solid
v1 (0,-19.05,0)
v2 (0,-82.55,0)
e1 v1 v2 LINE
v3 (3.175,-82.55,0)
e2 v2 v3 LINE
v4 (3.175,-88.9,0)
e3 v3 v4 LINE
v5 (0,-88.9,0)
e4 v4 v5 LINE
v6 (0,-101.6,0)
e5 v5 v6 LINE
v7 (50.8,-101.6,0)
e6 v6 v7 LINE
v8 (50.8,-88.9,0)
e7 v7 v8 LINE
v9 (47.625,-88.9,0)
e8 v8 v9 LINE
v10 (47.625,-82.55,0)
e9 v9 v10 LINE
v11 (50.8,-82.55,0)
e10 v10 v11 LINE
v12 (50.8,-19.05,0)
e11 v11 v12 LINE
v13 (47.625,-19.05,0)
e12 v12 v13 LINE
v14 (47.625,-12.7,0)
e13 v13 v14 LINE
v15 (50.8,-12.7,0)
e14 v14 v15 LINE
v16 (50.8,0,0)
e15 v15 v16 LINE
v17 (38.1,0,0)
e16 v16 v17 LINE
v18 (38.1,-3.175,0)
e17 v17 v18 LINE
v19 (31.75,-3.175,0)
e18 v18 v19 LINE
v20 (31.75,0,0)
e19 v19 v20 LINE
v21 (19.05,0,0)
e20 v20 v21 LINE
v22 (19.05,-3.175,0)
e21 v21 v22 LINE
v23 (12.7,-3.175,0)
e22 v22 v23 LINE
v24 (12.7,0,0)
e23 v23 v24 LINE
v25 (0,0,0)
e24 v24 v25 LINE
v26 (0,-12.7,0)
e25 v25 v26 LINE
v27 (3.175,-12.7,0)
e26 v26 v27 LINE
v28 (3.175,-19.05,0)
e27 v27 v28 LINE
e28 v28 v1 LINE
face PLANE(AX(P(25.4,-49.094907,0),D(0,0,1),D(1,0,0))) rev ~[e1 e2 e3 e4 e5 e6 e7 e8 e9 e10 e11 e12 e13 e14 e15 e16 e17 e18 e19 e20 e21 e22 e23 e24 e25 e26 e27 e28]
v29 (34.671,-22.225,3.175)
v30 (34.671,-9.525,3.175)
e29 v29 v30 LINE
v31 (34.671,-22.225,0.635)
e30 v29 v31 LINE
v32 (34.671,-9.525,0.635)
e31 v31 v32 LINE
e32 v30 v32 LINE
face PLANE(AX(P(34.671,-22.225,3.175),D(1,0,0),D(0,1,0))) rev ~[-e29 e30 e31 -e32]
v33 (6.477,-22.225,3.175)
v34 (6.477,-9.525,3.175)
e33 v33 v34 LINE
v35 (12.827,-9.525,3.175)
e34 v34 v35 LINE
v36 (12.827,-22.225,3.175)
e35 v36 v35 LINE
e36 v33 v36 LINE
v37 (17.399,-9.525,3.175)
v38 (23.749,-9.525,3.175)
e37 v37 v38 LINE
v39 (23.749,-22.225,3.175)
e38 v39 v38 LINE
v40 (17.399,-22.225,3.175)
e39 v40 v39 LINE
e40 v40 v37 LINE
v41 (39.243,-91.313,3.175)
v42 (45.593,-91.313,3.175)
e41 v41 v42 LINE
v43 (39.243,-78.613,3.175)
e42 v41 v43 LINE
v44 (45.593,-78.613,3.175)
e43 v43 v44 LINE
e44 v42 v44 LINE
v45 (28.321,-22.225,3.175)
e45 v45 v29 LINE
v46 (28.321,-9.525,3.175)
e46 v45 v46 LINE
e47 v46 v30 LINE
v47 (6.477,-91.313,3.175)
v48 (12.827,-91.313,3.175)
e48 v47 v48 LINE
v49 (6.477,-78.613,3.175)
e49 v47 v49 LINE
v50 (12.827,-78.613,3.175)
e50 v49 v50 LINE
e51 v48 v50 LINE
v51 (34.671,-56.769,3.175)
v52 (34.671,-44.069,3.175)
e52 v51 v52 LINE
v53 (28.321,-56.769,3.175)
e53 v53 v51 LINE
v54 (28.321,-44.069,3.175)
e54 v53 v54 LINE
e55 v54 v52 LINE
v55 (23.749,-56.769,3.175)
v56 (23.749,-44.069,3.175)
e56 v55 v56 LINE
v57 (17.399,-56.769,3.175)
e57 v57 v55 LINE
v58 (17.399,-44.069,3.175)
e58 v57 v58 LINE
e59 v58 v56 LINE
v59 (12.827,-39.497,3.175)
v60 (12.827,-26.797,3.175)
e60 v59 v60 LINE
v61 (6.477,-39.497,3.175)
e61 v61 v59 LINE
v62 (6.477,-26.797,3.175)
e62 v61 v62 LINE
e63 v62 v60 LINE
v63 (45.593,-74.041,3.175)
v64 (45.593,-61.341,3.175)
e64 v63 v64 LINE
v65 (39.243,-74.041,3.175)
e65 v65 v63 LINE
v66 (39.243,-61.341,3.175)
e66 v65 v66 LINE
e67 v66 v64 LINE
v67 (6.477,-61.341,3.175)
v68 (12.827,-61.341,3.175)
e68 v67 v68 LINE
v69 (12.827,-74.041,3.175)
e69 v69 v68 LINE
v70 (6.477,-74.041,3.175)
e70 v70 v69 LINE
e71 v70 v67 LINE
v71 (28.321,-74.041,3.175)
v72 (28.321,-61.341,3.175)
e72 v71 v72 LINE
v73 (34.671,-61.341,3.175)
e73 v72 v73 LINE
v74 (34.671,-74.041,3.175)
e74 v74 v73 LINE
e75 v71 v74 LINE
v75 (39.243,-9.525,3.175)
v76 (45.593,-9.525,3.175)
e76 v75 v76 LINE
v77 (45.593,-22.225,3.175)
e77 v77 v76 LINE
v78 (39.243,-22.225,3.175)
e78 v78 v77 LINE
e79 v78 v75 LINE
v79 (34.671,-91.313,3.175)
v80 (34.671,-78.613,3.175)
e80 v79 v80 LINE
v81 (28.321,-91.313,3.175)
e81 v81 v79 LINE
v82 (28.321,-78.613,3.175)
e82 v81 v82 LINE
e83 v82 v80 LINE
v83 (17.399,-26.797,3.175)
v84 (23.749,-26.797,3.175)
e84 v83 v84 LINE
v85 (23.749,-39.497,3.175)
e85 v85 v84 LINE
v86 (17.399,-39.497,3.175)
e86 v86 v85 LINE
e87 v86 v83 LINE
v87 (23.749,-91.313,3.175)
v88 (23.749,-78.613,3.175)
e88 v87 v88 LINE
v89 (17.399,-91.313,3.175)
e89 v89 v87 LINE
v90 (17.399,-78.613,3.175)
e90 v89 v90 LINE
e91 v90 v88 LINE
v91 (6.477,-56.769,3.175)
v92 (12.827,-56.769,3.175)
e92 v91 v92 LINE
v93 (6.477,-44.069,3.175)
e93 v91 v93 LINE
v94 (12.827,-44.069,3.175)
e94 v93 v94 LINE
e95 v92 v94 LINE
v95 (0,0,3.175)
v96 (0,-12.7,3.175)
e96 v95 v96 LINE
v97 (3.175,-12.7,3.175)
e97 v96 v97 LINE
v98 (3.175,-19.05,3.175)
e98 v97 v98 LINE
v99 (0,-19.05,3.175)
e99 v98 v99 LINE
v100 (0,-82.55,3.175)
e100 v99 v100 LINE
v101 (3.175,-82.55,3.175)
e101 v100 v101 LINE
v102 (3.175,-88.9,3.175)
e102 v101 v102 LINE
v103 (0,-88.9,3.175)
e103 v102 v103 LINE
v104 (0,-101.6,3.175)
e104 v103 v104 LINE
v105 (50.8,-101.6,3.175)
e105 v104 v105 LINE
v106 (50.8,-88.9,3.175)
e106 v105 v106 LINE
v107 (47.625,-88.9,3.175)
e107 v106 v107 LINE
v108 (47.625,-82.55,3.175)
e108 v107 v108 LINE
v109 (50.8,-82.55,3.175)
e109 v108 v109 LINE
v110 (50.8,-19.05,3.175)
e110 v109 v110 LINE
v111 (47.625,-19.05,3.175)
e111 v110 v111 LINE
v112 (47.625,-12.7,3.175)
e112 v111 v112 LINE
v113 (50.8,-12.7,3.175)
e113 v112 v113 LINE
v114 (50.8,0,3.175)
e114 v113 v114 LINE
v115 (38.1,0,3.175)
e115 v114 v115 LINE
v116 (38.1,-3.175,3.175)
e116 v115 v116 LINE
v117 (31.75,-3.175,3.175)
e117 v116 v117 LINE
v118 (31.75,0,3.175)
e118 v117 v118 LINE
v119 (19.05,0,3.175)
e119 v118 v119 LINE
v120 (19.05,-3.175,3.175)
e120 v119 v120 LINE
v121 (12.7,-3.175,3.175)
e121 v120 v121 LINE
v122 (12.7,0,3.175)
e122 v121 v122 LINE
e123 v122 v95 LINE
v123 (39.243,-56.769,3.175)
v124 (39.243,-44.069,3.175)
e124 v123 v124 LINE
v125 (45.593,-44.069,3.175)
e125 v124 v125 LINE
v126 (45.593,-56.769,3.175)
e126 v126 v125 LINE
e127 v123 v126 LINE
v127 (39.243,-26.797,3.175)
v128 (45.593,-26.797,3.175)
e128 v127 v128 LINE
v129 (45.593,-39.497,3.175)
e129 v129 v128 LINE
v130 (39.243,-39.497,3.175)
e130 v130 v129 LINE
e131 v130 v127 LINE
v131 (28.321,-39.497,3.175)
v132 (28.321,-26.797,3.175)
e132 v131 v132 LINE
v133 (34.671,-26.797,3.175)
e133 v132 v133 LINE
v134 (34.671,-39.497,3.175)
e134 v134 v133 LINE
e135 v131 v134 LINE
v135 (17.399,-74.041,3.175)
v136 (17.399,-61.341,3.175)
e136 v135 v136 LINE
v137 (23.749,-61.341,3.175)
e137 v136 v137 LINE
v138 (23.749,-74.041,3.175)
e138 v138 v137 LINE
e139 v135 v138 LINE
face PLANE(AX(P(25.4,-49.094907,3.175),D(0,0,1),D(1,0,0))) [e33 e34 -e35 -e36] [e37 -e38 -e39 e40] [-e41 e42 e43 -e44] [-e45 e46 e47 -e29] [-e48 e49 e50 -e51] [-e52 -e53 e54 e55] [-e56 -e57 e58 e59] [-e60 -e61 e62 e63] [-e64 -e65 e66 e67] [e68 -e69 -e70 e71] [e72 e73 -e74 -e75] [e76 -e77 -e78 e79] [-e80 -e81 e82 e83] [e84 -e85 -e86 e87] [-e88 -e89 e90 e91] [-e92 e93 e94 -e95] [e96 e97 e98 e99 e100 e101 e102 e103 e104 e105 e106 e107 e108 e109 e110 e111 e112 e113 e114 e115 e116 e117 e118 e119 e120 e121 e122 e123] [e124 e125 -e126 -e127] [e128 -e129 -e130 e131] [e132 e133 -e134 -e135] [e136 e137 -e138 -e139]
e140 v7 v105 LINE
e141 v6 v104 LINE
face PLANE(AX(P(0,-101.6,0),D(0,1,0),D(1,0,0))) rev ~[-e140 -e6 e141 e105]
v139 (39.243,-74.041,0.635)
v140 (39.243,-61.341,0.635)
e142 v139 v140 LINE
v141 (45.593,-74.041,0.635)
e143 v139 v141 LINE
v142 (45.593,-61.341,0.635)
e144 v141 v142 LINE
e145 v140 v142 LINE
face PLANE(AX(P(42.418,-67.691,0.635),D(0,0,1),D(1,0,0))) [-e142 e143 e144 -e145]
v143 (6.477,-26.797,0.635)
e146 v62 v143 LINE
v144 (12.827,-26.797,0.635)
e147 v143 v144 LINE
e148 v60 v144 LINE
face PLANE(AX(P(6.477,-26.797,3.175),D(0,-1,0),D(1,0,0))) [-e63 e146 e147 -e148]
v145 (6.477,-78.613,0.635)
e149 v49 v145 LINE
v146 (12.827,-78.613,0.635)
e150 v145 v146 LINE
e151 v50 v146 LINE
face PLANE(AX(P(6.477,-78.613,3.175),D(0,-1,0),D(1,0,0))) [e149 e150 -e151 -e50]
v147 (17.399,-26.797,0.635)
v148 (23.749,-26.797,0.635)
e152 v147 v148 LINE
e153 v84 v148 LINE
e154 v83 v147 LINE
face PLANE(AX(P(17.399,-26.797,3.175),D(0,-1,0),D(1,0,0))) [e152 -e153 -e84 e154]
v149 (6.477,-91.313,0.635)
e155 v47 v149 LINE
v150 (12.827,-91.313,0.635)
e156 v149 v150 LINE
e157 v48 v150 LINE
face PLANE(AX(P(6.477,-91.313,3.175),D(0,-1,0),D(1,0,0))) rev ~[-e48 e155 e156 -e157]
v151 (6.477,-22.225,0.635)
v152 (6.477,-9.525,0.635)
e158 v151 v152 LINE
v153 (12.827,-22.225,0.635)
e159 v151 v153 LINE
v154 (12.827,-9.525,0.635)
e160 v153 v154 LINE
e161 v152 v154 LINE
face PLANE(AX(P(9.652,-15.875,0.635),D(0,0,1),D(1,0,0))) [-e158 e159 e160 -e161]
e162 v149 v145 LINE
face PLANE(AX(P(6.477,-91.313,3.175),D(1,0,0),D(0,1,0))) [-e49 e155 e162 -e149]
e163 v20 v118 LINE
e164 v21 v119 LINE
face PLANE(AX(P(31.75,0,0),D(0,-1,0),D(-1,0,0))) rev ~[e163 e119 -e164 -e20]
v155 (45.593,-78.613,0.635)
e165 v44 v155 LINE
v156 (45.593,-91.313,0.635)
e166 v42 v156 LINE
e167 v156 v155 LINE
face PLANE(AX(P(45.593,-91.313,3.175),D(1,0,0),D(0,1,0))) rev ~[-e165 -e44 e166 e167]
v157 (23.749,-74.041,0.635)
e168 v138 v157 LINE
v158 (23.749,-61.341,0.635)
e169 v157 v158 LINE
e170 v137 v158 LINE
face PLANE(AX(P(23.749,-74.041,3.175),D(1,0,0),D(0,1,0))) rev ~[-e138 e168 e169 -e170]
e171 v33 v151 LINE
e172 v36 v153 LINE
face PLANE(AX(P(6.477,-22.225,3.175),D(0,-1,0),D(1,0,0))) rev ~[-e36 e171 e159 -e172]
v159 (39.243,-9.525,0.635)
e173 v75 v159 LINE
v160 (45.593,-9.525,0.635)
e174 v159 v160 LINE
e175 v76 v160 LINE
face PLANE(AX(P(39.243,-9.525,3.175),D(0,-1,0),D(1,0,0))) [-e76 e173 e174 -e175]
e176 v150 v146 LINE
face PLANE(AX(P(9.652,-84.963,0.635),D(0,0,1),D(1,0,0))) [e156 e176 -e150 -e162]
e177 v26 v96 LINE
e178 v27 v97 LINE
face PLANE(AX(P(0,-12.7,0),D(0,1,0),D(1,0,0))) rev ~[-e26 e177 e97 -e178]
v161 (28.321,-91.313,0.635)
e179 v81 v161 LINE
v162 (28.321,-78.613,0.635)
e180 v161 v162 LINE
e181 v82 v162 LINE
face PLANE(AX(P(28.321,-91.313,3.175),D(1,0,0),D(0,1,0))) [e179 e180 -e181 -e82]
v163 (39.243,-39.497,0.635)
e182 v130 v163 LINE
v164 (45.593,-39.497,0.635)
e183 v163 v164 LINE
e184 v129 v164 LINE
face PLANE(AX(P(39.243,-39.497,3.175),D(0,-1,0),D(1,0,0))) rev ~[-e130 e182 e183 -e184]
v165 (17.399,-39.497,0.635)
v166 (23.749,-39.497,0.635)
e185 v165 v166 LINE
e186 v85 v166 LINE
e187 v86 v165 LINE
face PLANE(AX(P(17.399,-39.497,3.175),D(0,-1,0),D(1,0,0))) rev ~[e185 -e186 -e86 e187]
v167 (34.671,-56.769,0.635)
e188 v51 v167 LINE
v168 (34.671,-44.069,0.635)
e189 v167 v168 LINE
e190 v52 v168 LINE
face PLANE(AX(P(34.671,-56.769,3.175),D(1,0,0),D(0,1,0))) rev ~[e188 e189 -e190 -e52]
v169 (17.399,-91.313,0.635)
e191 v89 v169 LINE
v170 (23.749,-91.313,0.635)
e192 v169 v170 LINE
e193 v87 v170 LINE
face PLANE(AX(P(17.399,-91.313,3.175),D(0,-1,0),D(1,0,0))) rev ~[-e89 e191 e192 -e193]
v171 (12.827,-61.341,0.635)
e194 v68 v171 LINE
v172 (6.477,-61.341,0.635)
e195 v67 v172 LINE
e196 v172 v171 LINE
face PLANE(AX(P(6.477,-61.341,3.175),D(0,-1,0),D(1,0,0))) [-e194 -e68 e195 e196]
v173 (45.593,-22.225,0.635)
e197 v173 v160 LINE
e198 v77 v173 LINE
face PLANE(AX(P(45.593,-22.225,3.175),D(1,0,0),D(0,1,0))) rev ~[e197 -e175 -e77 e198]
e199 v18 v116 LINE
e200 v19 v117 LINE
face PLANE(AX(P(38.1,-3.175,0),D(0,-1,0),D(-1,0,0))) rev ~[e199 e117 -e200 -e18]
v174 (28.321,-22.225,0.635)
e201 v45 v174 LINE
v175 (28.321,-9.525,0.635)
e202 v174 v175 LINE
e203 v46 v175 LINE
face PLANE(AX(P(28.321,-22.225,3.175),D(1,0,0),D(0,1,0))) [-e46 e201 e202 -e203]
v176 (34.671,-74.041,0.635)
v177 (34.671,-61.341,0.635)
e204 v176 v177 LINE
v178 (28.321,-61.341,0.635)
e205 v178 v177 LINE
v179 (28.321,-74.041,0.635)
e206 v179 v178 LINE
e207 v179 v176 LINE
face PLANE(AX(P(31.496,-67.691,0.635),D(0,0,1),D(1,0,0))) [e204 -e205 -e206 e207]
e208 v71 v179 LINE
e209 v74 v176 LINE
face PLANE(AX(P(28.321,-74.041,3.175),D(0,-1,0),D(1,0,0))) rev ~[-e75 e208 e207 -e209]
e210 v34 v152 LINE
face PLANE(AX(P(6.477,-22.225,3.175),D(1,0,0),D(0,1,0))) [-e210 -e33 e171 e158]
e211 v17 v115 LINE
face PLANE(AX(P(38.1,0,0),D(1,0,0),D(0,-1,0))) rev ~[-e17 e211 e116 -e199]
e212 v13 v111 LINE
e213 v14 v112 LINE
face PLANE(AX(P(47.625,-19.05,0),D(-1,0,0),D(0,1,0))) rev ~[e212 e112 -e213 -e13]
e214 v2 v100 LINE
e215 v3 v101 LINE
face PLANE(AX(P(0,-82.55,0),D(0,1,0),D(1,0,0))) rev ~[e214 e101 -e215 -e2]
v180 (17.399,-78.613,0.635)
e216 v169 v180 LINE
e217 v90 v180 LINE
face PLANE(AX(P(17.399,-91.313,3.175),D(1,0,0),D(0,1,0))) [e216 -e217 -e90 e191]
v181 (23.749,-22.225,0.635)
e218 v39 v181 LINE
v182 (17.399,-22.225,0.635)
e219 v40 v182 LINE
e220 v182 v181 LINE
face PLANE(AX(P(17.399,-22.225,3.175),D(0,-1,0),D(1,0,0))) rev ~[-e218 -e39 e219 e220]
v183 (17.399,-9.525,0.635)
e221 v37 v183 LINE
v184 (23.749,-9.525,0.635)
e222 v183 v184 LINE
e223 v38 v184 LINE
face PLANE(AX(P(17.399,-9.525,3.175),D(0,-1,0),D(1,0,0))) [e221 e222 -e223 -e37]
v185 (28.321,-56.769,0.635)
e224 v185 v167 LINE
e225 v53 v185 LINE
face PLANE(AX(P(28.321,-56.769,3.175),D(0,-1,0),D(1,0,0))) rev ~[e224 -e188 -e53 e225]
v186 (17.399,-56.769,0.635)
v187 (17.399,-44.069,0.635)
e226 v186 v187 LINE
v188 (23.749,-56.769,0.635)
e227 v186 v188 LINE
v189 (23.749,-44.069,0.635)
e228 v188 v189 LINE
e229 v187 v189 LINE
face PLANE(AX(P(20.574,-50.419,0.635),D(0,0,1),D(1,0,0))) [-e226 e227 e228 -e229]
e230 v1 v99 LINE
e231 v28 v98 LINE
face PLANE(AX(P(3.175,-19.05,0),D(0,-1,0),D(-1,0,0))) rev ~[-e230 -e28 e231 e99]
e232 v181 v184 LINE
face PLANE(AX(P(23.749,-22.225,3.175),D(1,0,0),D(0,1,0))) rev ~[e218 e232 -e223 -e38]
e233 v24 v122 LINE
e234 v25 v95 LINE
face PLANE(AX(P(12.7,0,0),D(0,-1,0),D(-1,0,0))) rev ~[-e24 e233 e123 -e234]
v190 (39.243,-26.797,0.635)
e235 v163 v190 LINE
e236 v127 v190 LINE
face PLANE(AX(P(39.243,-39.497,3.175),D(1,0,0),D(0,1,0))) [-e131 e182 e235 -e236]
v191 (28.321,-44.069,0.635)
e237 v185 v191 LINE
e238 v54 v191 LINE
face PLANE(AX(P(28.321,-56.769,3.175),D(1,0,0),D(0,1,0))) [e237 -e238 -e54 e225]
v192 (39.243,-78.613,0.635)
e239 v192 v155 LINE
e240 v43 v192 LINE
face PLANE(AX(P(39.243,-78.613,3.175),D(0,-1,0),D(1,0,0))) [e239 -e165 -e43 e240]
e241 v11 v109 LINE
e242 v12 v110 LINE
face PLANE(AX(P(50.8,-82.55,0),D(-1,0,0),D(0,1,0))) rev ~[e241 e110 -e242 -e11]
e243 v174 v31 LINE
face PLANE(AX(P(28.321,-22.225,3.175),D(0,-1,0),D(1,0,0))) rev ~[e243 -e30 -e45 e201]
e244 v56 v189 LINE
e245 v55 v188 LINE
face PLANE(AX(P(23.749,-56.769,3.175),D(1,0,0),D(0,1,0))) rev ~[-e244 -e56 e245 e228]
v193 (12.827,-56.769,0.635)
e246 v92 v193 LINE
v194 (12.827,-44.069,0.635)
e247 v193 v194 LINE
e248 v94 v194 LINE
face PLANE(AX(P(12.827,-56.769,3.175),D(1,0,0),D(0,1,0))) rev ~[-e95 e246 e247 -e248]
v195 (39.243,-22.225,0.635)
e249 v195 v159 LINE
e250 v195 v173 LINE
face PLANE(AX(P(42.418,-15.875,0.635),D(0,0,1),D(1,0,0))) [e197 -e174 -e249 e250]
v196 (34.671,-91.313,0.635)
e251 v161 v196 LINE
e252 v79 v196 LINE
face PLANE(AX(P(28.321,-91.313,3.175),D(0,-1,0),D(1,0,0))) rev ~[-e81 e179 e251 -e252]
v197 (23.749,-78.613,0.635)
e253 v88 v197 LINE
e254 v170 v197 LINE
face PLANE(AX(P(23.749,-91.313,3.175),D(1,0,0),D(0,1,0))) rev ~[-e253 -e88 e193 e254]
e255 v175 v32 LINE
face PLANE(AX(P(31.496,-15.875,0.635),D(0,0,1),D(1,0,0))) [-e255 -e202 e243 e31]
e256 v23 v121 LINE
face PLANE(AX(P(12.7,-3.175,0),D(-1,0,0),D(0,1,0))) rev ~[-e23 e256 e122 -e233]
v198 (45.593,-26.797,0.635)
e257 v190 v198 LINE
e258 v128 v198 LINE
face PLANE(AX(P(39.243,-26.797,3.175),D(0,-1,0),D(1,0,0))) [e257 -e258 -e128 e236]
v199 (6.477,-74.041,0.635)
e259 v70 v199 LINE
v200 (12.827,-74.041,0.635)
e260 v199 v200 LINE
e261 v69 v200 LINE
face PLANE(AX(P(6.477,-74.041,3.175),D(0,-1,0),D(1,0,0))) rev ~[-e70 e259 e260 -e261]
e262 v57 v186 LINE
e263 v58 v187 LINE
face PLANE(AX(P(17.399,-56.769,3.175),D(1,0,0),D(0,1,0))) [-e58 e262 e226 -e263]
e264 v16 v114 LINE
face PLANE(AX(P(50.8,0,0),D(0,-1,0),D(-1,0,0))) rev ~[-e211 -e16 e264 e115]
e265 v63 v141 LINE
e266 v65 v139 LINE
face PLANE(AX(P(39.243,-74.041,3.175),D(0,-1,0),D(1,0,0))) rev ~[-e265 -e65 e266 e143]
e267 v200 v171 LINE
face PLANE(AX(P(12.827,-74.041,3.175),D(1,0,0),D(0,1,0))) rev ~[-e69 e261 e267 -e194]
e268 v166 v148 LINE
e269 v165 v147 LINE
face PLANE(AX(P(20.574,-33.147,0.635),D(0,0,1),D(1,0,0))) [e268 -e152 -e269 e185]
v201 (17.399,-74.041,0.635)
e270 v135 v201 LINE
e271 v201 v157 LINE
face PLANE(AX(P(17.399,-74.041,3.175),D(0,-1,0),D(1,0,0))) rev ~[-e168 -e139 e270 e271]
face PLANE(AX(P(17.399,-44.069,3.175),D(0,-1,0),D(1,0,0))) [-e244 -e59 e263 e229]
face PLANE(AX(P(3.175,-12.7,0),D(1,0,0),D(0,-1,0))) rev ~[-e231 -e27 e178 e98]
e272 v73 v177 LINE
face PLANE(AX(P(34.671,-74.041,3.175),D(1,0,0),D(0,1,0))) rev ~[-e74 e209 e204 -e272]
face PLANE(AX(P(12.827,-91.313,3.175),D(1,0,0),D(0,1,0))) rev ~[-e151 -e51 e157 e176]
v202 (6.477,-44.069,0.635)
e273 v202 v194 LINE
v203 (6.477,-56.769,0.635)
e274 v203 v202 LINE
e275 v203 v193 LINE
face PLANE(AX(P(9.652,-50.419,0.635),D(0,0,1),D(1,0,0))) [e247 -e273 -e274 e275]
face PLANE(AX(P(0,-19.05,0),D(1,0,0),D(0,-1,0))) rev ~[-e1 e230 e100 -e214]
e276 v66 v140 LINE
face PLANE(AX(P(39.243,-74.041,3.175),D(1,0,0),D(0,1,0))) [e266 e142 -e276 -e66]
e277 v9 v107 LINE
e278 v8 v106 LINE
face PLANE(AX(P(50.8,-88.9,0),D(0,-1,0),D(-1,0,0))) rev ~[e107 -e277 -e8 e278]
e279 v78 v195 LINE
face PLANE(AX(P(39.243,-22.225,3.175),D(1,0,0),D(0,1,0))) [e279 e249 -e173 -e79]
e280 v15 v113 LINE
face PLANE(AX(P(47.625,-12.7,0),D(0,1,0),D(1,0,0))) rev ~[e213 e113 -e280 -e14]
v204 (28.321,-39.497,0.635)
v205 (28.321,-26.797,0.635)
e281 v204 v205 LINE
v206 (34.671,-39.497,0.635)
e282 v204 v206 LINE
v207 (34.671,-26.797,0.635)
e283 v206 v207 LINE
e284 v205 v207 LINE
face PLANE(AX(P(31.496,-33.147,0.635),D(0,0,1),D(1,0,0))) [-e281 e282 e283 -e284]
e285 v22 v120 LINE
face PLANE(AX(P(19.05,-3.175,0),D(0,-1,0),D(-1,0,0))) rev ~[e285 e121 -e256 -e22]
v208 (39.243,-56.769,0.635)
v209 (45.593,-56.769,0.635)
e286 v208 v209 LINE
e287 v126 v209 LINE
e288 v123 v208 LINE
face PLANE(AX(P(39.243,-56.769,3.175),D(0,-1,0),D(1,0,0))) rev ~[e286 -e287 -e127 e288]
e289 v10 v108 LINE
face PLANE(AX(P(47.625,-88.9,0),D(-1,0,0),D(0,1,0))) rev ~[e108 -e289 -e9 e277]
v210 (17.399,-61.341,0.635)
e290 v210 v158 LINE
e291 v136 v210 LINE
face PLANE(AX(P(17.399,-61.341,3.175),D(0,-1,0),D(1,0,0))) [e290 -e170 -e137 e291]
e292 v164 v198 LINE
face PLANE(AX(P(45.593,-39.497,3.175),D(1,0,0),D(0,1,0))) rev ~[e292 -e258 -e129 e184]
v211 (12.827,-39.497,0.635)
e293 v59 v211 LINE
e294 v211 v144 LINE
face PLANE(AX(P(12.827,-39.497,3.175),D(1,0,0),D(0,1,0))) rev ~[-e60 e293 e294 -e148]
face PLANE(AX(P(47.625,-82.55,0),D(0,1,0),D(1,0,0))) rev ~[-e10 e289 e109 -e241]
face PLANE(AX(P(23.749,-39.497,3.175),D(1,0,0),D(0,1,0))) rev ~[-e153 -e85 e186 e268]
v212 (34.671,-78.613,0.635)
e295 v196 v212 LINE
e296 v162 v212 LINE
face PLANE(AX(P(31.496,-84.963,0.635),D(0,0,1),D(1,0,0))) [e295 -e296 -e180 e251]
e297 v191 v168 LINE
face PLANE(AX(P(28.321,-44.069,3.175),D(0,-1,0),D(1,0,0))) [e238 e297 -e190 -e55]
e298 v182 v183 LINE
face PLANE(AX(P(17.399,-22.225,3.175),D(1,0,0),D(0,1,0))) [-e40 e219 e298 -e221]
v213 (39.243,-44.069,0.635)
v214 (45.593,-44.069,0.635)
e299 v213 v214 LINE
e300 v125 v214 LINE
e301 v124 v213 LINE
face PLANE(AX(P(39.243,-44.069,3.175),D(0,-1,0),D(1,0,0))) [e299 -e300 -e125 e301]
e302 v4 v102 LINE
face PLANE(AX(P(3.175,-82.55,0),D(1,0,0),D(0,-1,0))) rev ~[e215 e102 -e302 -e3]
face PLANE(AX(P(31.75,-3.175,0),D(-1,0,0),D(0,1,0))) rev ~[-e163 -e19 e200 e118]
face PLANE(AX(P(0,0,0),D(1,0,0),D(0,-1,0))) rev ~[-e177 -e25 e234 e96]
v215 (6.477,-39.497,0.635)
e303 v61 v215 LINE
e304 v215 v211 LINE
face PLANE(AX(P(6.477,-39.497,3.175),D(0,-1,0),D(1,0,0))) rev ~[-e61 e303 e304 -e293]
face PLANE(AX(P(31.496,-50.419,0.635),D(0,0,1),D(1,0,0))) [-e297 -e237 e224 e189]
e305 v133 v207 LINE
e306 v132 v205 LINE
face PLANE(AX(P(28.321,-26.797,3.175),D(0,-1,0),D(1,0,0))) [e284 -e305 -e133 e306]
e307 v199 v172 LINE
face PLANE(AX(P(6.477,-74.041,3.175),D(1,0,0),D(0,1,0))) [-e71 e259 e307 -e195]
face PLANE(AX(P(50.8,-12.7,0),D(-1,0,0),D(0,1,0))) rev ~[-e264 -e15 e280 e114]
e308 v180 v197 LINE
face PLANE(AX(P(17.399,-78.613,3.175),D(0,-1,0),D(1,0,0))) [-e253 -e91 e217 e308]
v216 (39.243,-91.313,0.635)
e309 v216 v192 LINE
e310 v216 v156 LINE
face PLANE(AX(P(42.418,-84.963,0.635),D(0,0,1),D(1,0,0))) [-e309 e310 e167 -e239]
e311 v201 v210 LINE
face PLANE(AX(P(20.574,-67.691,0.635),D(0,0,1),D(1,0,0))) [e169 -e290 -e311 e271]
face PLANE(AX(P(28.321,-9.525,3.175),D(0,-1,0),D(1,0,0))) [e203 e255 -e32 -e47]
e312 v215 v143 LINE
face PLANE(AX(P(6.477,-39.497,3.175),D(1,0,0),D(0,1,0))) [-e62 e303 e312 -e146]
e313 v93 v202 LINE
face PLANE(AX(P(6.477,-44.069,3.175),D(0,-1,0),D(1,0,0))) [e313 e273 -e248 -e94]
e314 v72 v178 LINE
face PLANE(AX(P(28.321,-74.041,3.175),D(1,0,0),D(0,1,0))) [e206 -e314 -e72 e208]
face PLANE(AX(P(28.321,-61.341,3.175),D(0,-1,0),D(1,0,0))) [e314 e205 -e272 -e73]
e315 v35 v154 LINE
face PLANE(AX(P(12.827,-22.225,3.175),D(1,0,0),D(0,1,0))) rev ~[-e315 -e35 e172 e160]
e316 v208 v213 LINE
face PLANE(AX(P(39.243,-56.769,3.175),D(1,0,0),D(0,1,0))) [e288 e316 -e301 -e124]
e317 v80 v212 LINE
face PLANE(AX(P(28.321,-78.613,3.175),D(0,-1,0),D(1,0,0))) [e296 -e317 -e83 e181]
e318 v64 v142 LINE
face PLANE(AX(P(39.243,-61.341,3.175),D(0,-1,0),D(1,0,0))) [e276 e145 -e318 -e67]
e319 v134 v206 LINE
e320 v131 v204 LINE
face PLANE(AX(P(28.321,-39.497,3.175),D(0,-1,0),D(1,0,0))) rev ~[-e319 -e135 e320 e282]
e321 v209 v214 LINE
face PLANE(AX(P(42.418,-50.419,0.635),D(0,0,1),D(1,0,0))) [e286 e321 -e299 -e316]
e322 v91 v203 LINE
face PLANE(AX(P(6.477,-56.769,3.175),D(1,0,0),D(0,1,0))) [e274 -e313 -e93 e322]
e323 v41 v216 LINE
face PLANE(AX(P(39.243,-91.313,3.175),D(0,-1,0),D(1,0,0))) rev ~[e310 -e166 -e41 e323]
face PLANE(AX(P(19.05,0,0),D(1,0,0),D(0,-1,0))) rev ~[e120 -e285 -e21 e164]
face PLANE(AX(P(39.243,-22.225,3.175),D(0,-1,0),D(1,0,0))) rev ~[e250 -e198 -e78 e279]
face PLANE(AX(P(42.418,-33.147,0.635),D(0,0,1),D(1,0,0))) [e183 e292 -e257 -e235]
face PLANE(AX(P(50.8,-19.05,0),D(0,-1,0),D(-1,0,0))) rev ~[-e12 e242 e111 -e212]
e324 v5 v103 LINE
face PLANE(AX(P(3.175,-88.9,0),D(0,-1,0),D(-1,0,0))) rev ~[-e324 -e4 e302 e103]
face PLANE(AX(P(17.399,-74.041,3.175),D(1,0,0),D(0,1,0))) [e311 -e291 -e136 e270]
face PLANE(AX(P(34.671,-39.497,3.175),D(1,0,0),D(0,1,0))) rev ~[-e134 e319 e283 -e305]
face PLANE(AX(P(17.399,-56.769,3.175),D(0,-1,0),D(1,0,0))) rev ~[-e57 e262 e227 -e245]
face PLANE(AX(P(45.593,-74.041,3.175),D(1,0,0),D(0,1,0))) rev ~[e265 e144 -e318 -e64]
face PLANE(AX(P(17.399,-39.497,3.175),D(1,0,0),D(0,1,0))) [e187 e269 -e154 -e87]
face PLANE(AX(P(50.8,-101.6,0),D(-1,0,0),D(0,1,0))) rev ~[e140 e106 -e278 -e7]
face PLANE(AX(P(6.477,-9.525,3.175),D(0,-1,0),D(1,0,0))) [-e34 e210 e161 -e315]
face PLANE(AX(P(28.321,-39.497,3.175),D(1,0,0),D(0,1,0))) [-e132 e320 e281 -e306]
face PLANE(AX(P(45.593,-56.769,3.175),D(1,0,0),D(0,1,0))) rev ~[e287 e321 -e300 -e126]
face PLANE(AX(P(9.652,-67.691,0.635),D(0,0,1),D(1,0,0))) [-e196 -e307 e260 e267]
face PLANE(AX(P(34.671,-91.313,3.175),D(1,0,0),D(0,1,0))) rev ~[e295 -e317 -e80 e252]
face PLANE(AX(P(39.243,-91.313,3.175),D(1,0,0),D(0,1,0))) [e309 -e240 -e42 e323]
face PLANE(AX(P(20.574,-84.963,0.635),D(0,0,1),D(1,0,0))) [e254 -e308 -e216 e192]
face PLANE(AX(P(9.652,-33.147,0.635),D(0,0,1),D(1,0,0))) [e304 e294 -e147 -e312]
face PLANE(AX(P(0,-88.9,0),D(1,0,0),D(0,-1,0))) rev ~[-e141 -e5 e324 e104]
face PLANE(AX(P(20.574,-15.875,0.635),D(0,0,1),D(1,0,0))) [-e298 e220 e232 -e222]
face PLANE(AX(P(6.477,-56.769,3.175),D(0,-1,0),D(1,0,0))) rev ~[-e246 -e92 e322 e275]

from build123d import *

# Parameters (mm, degrees)
BOSS_EXTRUDE1_DEPTH  = 3.175
SKETCH2_W            = 6.35
SKETCH2_H            = 12.7
CUT_EXTRUDE1_DEPTH   = 2.54
LPATTERN1_COUNT      = 4
LPATTERN1_PITCH      = 10.922
LPATTERN1_COUNT_DIR2 = 5
LPATTERN1_PITCH_DIR2 = 17.272


with BuildPart() as part:
    # Sketch1 → Boss-Extrude1 (new body)
    with BuildSketch(Plane.XY):
        Polygon((0, -101.6), (12.7, -101.6), (50.8, -101.6), (50.8, -88.9), (47.625, -88.9), (47.625, -82.55), (50.8, -82.55), (50.8, -19.05), (47.625, -19.05), (47.625, -12.7), (50.8, -12.7), (50.8, 0), (38.1, 0), (38.1, -3.175), (31.75, -3.175), (31.75, 0), (19.05, 0), (19.05, -3.175), (12.7, -3.175), (12.7, 0), (0, 0), (0, -12.7), (3.175, -12.7), (3.175, -19.05), (0, -19.05), (0, -82.55), (3.175, -82.55), (3.175, -88.9), (0, -88.9), align=None)
    extrude(amount=BOSS_EXTRUDE1_DEPTH)

    # Sketch2 → Cut-Extrude1 (cut)
    with BuildSketch(Plane.XY.offset(3.175)):
        with Locations((9.652, -15.875)):
            Rectangle(SKETCH2_W, SKETCH2_H)
    cut_extrude1 = extrude(amount=-CUT_EXTRUDE1_DEPTH, mode=Mode.SUBTRACT)

    # LPattern1: Cut-Extrude1 4 × 5
    with Locations(*[(i * LPATTERN1_PITCH, -j * LPATTERN1_PITCH_DIR2, 0) for i in range(LPATTERN1_COUNT) for j in range(LPATTERN1_COUNT_DIR2) if (i, j) != (0, 0)]):
        add(cut_extrude1, mode=Mode.SUBTRACT)


solid = part.part
